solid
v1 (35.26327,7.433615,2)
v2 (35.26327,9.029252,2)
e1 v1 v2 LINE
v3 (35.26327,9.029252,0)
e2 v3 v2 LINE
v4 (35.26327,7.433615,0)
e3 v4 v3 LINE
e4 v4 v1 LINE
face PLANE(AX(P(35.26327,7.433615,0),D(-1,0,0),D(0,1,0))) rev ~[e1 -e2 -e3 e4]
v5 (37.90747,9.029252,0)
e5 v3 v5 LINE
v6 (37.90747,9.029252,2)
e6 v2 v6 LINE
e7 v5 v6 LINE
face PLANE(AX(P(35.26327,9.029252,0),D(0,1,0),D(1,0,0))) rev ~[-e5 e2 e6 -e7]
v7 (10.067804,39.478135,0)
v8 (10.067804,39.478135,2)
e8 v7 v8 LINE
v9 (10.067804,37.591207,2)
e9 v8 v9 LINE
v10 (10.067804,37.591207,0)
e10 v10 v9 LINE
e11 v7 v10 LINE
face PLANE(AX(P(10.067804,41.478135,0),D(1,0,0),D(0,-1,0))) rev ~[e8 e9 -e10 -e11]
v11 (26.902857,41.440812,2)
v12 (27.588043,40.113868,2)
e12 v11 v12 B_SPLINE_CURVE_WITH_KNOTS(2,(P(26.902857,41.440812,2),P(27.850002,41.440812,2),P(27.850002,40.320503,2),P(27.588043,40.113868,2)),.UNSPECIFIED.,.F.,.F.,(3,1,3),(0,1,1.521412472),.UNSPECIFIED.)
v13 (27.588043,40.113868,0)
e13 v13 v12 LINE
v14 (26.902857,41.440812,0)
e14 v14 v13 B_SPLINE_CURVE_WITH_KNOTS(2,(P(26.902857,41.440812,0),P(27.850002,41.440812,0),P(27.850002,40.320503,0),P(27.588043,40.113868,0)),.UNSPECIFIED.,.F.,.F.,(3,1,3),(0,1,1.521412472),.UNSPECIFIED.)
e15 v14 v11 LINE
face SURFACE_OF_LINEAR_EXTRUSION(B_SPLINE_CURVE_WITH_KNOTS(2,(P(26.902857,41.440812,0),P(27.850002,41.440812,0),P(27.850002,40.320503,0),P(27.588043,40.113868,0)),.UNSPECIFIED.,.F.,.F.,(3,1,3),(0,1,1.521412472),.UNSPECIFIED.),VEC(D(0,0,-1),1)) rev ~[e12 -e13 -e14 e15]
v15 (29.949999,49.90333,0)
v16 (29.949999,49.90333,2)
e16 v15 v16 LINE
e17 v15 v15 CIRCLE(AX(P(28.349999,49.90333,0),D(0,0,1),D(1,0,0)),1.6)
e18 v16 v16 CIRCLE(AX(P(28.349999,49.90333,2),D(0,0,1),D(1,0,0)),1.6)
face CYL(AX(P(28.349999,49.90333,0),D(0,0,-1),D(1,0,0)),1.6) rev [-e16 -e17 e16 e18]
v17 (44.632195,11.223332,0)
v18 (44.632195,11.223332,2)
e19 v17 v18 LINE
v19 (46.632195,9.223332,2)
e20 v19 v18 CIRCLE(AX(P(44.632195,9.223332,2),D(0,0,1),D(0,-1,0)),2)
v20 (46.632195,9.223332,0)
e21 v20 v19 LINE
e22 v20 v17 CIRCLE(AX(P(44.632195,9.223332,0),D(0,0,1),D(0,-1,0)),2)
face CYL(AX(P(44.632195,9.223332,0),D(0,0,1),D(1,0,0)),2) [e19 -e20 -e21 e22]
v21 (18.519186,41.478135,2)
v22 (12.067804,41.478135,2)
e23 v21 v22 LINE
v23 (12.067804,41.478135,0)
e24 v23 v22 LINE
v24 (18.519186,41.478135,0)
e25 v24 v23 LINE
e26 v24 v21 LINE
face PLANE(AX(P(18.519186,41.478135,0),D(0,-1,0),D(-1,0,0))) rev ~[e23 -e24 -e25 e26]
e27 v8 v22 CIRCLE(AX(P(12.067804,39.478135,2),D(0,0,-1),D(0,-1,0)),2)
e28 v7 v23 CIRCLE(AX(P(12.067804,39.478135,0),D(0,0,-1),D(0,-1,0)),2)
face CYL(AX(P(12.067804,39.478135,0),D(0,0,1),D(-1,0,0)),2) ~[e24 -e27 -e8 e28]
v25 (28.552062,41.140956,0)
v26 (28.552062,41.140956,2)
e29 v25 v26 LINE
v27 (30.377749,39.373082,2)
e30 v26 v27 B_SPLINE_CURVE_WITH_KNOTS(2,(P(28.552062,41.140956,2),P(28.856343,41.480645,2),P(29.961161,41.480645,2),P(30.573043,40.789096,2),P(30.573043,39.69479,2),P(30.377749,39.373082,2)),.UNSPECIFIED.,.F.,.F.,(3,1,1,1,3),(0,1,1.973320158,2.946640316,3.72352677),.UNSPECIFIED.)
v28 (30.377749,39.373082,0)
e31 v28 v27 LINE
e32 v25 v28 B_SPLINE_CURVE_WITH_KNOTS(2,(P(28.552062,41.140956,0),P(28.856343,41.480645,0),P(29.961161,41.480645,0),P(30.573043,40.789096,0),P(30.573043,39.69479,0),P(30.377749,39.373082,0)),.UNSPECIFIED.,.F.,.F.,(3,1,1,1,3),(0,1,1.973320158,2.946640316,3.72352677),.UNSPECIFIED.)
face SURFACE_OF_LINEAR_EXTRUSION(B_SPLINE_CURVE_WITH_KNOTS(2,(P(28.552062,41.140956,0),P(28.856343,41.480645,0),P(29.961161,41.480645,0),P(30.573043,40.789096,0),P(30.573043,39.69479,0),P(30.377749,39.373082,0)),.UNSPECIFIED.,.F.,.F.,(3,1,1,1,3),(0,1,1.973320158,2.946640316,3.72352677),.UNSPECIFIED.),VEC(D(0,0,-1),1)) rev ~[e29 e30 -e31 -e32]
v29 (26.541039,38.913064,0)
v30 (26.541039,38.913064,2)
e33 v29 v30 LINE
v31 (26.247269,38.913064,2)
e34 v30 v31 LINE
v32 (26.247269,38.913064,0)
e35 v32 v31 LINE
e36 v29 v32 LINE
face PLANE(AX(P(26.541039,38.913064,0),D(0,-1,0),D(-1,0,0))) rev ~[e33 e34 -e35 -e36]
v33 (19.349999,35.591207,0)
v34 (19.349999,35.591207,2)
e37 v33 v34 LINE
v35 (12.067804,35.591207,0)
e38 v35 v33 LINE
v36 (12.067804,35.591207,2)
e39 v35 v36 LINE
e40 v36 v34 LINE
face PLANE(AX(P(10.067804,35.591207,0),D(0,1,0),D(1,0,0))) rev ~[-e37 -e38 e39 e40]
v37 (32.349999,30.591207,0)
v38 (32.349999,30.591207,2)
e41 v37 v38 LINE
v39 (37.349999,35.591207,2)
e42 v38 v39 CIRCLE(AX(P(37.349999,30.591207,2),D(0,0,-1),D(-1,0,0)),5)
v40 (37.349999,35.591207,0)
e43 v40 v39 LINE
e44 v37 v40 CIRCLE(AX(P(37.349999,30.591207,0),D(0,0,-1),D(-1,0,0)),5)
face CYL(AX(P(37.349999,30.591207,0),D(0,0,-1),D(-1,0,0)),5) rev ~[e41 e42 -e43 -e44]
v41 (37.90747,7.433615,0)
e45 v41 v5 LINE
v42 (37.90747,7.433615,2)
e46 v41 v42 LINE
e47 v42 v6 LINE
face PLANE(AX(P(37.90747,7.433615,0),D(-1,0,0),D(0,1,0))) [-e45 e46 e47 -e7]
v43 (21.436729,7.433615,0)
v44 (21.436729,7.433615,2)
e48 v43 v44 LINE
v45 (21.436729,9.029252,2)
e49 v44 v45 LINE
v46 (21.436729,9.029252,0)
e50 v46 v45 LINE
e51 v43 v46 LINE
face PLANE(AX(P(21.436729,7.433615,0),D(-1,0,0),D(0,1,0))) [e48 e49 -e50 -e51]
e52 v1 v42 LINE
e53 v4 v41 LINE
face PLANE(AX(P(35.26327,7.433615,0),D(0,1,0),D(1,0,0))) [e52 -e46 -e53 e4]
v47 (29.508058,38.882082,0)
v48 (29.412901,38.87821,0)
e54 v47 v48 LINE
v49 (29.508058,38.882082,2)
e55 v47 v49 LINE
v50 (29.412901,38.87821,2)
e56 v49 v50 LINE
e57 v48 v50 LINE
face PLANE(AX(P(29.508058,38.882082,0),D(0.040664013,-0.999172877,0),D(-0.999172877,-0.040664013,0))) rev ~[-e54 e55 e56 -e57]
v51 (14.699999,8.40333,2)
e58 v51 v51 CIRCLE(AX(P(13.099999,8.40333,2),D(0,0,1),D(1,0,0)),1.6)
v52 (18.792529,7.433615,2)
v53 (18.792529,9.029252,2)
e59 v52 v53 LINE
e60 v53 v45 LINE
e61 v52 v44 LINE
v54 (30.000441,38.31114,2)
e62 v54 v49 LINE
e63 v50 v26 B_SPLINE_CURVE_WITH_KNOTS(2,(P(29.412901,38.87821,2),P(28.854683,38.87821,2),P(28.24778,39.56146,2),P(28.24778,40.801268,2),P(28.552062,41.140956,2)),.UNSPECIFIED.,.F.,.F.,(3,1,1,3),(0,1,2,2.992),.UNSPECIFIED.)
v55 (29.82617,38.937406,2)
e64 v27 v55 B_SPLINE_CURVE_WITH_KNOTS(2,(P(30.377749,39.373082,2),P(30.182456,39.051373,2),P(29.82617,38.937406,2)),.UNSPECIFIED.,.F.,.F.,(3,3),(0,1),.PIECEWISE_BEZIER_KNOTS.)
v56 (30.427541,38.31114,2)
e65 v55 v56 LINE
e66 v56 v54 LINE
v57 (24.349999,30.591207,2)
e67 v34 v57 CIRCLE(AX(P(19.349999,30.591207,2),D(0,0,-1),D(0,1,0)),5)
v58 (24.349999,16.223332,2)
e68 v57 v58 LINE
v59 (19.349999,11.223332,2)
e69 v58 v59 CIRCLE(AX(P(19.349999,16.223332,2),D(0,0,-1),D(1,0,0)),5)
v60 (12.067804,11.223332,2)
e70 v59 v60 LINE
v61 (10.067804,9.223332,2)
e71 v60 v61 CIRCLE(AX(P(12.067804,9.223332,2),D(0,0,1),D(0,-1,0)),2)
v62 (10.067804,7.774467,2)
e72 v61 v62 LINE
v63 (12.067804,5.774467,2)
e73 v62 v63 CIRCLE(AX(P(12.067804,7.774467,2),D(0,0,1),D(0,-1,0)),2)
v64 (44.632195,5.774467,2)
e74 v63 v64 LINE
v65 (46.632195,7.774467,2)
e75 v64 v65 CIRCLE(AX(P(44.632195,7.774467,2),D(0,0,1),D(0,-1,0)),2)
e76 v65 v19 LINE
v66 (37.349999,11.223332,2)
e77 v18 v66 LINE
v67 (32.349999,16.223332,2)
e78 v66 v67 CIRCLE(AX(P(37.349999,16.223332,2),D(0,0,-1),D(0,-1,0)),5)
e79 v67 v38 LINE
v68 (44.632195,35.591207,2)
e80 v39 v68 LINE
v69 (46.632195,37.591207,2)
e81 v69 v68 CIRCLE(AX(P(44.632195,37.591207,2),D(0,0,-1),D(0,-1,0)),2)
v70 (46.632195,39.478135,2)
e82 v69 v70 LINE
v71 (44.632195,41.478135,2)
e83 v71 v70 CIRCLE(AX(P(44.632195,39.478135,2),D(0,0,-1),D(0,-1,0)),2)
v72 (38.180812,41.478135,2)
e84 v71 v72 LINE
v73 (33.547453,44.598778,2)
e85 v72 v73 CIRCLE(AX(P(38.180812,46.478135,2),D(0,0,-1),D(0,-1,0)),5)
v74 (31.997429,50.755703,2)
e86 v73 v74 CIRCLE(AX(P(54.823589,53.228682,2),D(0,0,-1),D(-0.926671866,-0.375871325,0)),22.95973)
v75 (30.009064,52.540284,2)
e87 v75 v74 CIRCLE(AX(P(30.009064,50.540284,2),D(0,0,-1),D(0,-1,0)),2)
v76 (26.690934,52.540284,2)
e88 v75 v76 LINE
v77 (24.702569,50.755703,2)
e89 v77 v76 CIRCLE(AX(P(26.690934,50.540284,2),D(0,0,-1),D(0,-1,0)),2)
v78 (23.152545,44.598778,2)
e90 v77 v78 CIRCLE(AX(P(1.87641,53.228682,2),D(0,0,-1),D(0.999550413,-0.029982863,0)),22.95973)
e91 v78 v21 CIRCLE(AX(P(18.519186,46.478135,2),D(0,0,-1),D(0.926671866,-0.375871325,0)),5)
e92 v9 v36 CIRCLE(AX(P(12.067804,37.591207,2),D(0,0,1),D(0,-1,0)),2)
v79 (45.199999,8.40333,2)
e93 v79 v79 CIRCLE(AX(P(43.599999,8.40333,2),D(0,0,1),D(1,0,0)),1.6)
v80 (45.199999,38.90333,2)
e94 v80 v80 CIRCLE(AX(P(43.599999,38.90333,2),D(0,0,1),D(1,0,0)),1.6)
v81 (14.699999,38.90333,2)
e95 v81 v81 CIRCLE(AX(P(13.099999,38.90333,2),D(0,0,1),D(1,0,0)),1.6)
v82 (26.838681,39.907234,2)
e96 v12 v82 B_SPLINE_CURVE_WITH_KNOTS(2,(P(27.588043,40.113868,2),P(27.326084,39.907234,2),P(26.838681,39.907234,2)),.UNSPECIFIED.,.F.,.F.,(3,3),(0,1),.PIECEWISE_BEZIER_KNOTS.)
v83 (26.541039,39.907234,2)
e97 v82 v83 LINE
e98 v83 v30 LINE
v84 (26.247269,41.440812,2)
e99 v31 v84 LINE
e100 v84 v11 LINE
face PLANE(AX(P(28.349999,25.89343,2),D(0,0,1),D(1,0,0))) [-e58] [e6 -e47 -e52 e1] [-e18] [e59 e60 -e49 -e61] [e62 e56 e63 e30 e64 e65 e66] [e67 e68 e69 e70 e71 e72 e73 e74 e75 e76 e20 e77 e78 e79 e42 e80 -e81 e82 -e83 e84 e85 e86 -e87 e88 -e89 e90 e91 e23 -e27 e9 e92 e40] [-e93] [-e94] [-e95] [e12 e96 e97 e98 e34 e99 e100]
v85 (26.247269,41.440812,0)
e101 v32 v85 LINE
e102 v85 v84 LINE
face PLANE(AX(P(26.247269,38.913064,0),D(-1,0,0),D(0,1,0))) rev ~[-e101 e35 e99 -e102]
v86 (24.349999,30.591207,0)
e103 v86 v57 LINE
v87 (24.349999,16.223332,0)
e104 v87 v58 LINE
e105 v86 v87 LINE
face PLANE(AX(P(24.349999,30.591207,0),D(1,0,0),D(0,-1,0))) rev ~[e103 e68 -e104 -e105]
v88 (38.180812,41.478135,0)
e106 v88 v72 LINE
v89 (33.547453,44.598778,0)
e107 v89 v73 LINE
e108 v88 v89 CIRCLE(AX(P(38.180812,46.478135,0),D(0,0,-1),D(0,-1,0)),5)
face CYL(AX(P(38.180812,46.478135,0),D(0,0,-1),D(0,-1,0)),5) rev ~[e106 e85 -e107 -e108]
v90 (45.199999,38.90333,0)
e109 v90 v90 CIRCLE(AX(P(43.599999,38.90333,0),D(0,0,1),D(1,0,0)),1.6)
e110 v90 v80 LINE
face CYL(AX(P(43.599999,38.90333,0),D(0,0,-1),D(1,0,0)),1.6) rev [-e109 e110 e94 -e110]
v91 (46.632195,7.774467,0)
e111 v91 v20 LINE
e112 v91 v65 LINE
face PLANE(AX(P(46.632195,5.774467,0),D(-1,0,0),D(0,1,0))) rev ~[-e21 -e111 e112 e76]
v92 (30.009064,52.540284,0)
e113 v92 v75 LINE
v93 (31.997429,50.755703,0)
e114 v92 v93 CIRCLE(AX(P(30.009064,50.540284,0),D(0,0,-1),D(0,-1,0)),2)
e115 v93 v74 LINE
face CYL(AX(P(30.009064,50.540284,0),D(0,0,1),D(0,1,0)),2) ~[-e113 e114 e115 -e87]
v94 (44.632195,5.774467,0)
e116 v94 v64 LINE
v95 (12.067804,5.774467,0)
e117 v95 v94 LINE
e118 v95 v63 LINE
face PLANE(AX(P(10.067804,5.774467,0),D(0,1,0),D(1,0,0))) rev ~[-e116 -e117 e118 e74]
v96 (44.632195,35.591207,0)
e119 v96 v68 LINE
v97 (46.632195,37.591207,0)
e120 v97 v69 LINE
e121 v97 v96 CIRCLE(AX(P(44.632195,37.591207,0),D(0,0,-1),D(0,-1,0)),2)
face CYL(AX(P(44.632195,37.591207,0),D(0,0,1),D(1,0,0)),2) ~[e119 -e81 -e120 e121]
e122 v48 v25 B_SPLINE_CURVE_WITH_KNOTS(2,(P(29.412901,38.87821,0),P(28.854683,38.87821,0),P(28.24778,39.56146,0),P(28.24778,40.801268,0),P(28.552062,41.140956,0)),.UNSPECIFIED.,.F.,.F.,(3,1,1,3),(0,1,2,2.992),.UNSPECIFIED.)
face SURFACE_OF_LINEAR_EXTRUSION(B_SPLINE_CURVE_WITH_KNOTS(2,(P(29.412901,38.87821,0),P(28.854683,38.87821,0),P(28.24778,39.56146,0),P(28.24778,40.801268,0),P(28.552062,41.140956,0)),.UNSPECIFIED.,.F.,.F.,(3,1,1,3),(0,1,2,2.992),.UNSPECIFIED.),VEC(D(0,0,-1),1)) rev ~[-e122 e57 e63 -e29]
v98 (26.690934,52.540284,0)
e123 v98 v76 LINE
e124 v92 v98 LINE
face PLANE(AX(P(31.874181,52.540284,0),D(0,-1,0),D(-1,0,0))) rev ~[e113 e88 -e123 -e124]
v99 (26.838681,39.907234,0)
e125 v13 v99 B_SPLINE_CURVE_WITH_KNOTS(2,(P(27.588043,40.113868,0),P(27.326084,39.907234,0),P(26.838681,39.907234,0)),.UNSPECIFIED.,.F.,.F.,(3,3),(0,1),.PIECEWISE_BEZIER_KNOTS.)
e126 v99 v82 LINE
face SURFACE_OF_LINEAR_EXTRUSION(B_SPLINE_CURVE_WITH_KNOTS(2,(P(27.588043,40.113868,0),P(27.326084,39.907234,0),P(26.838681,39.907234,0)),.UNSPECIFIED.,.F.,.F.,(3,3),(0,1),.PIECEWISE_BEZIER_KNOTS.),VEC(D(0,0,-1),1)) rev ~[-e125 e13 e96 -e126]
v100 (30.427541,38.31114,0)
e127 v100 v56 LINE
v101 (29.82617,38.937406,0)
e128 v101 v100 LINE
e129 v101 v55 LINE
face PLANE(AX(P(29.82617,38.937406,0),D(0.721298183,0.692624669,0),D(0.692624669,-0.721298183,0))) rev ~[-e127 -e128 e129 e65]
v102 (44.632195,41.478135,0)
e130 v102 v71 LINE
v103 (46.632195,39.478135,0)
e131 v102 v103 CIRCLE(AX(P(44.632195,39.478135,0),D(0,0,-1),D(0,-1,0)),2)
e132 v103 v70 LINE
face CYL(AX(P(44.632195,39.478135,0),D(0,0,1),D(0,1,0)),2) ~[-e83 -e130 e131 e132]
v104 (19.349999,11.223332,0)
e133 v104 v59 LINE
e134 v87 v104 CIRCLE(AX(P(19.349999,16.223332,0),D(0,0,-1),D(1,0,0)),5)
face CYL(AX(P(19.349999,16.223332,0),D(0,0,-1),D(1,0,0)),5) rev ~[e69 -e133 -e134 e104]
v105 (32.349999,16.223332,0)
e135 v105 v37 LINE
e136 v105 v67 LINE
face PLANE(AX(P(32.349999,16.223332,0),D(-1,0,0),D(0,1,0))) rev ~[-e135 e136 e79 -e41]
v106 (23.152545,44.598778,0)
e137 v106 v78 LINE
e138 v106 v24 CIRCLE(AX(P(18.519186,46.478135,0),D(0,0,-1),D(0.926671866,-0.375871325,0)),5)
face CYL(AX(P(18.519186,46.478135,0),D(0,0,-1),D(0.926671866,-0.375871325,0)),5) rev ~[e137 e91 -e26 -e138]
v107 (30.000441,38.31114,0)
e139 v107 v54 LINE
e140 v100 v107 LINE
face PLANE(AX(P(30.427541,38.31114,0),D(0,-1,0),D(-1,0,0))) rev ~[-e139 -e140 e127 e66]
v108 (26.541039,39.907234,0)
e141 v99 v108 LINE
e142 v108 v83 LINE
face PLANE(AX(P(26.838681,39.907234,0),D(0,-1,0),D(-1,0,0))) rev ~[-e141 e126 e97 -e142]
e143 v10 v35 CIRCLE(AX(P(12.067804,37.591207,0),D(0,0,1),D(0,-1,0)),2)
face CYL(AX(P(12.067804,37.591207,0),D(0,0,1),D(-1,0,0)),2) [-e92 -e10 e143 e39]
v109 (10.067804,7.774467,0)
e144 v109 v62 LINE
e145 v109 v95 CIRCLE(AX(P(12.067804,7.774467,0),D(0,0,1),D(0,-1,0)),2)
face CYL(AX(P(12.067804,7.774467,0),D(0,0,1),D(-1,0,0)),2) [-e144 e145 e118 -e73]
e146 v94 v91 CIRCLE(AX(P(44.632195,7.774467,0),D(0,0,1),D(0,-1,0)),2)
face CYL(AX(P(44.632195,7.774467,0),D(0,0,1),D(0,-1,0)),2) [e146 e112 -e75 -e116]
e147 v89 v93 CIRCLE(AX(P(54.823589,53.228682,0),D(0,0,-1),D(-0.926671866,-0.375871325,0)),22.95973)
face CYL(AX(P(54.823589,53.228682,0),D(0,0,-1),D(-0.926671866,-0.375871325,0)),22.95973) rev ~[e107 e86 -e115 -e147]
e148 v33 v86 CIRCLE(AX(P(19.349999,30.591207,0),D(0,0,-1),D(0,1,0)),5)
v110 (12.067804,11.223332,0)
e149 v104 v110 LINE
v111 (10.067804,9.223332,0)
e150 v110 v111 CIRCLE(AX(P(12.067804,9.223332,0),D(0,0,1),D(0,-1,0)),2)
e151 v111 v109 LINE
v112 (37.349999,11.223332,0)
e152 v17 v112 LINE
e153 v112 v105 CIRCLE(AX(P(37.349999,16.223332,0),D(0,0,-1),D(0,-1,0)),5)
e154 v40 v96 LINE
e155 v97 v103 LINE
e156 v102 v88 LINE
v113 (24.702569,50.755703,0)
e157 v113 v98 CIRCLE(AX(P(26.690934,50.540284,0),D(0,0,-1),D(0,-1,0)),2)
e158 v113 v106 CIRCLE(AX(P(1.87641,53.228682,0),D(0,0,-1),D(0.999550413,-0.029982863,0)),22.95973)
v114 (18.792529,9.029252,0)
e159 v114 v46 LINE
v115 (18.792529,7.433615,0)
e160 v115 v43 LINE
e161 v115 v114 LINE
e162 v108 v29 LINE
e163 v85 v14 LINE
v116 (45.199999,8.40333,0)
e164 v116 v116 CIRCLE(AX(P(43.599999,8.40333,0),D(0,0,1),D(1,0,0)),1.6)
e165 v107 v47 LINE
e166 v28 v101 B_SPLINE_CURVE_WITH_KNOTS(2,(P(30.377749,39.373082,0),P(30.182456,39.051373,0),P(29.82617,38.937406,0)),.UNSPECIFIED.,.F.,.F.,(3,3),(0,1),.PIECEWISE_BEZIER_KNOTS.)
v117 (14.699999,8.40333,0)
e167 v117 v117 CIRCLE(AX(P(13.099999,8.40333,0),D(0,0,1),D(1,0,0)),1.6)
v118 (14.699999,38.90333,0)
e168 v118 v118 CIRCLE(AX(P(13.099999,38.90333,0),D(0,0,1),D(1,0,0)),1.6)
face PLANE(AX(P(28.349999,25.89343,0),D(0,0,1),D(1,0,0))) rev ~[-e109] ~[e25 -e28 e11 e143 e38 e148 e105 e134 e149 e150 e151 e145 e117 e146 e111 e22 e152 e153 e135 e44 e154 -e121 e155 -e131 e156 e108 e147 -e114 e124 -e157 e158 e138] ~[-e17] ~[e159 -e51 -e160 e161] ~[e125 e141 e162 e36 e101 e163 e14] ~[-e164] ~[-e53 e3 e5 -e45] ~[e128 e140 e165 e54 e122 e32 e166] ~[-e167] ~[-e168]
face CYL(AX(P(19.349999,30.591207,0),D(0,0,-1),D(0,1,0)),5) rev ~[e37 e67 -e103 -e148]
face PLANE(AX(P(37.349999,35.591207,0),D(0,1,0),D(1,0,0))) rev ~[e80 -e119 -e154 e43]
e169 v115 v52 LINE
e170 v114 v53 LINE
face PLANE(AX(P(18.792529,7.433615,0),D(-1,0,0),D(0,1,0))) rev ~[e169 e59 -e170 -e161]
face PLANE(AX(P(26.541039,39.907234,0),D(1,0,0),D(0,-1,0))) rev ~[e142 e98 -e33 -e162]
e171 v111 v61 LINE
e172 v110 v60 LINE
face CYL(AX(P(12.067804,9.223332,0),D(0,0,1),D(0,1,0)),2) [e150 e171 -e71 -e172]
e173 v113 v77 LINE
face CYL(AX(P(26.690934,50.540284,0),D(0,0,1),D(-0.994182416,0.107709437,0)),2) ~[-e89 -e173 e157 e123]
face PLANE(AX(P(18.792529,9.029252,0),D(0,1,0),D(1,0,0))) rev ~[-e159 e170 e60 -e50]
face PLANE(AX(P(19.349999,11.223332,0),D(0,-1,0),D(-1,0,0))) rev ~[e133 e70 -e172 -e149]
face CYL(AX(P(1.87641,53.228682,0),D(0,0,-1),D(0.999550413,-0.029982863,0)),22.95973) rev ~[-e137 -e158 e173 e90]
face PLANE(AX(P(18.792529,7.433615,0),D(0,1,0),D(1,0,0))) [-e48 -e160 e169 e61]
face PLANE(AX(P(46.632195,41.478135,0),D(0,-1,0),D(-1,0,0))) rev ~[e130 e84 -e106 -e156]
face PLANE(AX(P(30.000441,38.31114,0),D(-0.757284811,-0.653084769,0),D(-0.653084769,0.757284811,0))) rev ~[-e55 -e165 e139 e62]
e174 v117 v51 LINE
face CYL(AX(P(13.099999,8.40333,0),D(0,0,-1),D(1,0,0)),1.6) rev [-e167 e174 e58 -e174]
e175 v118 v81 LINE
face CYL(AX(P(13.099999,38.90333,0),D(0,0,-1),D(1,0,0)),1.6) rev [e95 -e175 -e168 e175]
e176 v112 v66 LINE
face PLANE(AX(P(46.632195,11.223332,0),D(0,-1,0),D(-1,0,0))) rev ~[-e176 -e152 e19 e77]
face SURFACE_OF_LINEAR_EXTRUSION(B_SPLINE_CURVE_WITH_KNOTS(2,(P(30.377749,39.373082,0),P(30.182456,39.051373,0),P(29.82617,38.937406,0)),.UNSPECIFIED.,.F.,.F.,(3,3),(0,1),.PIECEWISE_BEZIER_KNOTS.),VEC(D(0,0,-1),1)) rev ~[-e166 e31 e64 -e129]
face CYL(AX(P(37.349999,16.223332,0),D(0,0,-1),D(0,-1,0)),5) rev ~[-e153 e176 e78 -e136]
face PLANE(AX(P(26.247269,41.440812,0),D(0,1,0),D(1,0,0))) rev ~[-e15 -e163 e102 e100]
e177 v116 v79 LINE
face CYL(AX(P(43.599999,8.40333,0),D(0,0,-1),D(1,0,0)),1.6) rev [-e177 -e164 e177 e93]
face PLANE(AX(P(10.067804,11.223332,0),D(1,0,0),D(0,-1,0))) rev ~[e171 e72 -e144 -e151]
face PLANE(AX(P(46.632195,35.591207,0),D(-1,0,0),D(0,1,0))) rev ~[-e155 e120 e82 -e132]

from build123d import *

# Parameters (mm, degrees)
F0_R     = 1.6
F0_W     = 2.644199878
F0_H     = 1.5956377611
F1_DEPTH = 2
F2_R     = 2
F3_R     = 2


with BuildPart() as f1:
    # F0 (on Top) → F1 (new body)
    with BuildSketch(Plane.XY):
        with BuildLine():
            Line((10.0678037852, 41.4781346917), (10.0678037852, 40.3846651316))
            Line((10.0678037852, 40.3846651316), (10.0678037852, 35.5912074447))
            Line((10.0678037852, 35.5912074447), (19.349999167, 35.5912074447))
            ThreePointArc((19.349999167, 35.5912074447), (22.885533073, 34.1267413506), (24.349999167, 30.5912074447))
            Line((24.349999167, 30.5912074447), (24.349999167, 16.2233320251))
            ThreePointArc((24.349999167, 16.2233320251), (22.885533073, 12.6877981192), (19.349999167, 11.2233320251))
            Line((19.349999167, 11.2233320251), (10.0678037852, 11.2233320251))
            Line((10.0678037852, 11.2233320251), (10.0678037852, 5.7744667865))
            Line((10.0678037852, 5.7744667865), (46.6321945488, 5.7744667865))
            Line((46.6321945488, 5.7744667865), (46.6321945488, 11.2233320251))
            Line((46.6321945488, 11.2233320251), (37.349999167, 11.2233320251))
            ThreePointArc((37.349999167, 11.2233320251), (33.8144652611, 12.6877981192), (32.349999167, 16.2233320251))
            Line((32.349999167, 16.2233320251), (32.349999167, 24.7527061179))
            Line((32.349999167, 24.7527061179), (32.349999167, 30.5912074447))
            ThreePointArc((32.349999167, 30.5912074447), (33.8144652611, 34.1267413506), (37.349999167, 35.5912074447))
            Line((37.349999167, 35.5912074447), (46.6321945488, 35.5912074447))
            Line((46.6321945488, 35.5912074447), (46.6321945488, 40.3846651316))
            Line((46.6321945488, 40.3846651316), (46.6321945488, 41.4781346917))
            Line((46.6321945488, 41.4781346917), (38.1808124264, 41.4781346917))
            ThreePointArc((38.1808124264, 41.4781346917), (35.3876764753, 42.3310403404), (33.5474530963, 44.5987780681))
            ThreePointArc((33.5474530963, 44.5987780681), (32.3571350428, 48.4950101781), (31.87418136, 52.5402836502))
            Line((31.87418136, 52.5402836502), (28.349999167, 52.5402836502))
            Line((28.349999167, 52.5402836502), (24.825816974, 52.5402836502))
            ThreePointArc((24.825816974, 52.5402836502), (24.3428632913, 48.4950101781), (23.1525452378, 44.5987780681))
            ThreePointArc((23.1525452378, 44.5987780681), (21.3123218588, 42.3310403404), (18.5191859077, 41.4781346917))
            Line((18.5191859077, 41.4781346917), (10.0678037852, 41.4781346917))
        make_face()
        with Locations((13.099999167, 8.40333011)):
            Circle(F0_R, mode=Mode.SUBTRACT)
        with Locations((20.1146285981, 8.2314335741)):
            Rectangle(F0_W, F0_H, mode=Mode.SUBTRACT)
        with Locations((36.585369736, 8.2314335741)):
            Rectangle(F0_W, F0_H, mode=Mode.SUBTRACT)
        with Locations((43.599999167, 8.40333011)):
            Circle(F0_R, mode=Mode.SUBTRACT)
        with Locations((13.099999167, 38.90333011)):
            Circle(F0_R, mode=Mode.SUBTRACT)
        with BuildLine():
            add(Edge.make_bspline(
                [(26.9028567943, 41.4408115782), (27.8500015435, 41.4408115782), (27.8500015435, 40.7044507948)],
                knots=[0, 0, 0, 1, 1, 1], degree=2))
            add(Edge.make_bspline(
                [(27.8500015435, 40.7044507948), (27.8500015435, 40.3205030986), (27.5880429928, 40.1138684235)],
                knots=[0, 0, 0, 1, 1, 1], degree=2))
            add(Edge.make_bspline(
                [(27.5880429928, 40.1138684235), (27.3260844422, 39.9072337483), (26.8386810987, 39.9072337483)],
                knots=[0, 0, 0, 1, 1, 1], degree=2))
            Line((26.8386810987, 39.9072337483), (26.5410386483, 39.9072337483))
            Line((26.5410386483, 39.9072337483), (26.5410386483, 38.913063705))
            Line((26.5410386483, 38.913063705), (26.2472688693, 38.913063705))
            Line((26.2472688693, 38.913063705), (26.2472688693, 41.4408115782))
            Line((26.2472688693, 41.4408115782), (26.9028567943, 41.4408115782))
        make_face(mode=Mode.SUBTRACT)
        with Locations((28.349999167, 49.90333011)):
            Circle(F0_R, mode=Mode.SUBTRACT)
        with BuildLine():
            add(Edge.make_bspline(
                [(30.2671016656, 41.1348705465), (30.5730426973, 40.7890963244), (30.5730426973, 40.1805336935)],
                knots=[0, 0, 0, 1, 1, 1], degree=2))
            add(Edge.make_bspline(
                [(30.5730426973, 40.1805336935), (30.5730426973, 39.6947900663), (30.3777494167, 39.37308173)],
                knots=[0, 0, 0, 1, 1, 1], degree=2))
            add(Edge.make_bspline(
                [(30.3777494167, 39.37308173), (30.1824561361, 39.0513733938), (29.8261703776, 38.9374062102)],
                knots=[0, 0, 0, 1, 1, 1], degree=2))
            Line((29.8261703776, 38.9374062102), (30.4275409047, 38.3111399391))
            Line((30.4275409047, 38.3111399391), (30.0004405856, 38.3111399391))
            Line((30.0004405856, 38.3111399391), (29.5080580933, 38.8820823347))
            Line((29.5080580933, 38.8820823347), (29.4129010274, 38.8782096634))
            add(Edge.make_bspline(
                [(29.4129010274, 38.8782096634), (28.8546831232, 38.8782096634), (28.5512316659, 39.2198345948)],
                knots=[0, 0, 0, 1, 1, 1], degree=2))
            add(Edge.make_bspline(
                [(28.5512316659, 39.2198345948), (28.2477802086, 39.5614595262), (28.2477802086, 40.183853126)],
                knots=[0, 0, 0, 1, 1, 1], degree=2))
            add(Edge.make_bspline(
                [(28.2477802086, 40.183853126), (28.2477802086, 40.801267577), (28.552061524, 41.1409561728)],
                knots=[0, 0, 0, 1, 1, 1], degree=2))
            add(Edge.make_bspline(
                [(28.552061524, 41.1409561728), (28.8563428395, 41.4806447686), (29.4162204599, 41.4806447686)],
                knots=[0, 0, 0, 1, 1, 1], degree=2))
            add(Edge.make_bspline(
                [(29.4162204599, 41.4806447686), (29.9611606339, 41.4806447686), (30.2671016656, 41.1348705465)],
                knots=[0, 0, 0, 1, 1, 1], degree=2))
        make_face(mode=Mode.SUBTRACT)
        with Locations((43.599999167, 38.90333011)):
            Circle(F0_R, mode=Mode.SUBTRACT)
    extrude(amount=F1_DEPTH)

    # F2
    f2_edges = [f1.edges().sort_by_distance(p)[0] for p in [
        (46.632195, 5.774467, 1),
        (10.067804, 5.774467, 1),
        (10.067804, 35.591207, 1),
        (46.632195, 35.591207, 1),
    ]]
    fillet(f2_edges, radius=F2_R)

    # F3
    f3_edges = [f1.edges().sort_by_distance(p)[0] for p in [
        (10.067804, 41.478135, 1),
        (46.632195, 41.478135, 1),
        (46.632195, 11.223332, 1),
        (10.067804, 11.223332, 1),
        (24.825817, 52.540284, 1),
        (31.874181, 52.540284, 1),
    ]]
    fillet(f3_edges, radius=F3_R)


solid = f1.part
